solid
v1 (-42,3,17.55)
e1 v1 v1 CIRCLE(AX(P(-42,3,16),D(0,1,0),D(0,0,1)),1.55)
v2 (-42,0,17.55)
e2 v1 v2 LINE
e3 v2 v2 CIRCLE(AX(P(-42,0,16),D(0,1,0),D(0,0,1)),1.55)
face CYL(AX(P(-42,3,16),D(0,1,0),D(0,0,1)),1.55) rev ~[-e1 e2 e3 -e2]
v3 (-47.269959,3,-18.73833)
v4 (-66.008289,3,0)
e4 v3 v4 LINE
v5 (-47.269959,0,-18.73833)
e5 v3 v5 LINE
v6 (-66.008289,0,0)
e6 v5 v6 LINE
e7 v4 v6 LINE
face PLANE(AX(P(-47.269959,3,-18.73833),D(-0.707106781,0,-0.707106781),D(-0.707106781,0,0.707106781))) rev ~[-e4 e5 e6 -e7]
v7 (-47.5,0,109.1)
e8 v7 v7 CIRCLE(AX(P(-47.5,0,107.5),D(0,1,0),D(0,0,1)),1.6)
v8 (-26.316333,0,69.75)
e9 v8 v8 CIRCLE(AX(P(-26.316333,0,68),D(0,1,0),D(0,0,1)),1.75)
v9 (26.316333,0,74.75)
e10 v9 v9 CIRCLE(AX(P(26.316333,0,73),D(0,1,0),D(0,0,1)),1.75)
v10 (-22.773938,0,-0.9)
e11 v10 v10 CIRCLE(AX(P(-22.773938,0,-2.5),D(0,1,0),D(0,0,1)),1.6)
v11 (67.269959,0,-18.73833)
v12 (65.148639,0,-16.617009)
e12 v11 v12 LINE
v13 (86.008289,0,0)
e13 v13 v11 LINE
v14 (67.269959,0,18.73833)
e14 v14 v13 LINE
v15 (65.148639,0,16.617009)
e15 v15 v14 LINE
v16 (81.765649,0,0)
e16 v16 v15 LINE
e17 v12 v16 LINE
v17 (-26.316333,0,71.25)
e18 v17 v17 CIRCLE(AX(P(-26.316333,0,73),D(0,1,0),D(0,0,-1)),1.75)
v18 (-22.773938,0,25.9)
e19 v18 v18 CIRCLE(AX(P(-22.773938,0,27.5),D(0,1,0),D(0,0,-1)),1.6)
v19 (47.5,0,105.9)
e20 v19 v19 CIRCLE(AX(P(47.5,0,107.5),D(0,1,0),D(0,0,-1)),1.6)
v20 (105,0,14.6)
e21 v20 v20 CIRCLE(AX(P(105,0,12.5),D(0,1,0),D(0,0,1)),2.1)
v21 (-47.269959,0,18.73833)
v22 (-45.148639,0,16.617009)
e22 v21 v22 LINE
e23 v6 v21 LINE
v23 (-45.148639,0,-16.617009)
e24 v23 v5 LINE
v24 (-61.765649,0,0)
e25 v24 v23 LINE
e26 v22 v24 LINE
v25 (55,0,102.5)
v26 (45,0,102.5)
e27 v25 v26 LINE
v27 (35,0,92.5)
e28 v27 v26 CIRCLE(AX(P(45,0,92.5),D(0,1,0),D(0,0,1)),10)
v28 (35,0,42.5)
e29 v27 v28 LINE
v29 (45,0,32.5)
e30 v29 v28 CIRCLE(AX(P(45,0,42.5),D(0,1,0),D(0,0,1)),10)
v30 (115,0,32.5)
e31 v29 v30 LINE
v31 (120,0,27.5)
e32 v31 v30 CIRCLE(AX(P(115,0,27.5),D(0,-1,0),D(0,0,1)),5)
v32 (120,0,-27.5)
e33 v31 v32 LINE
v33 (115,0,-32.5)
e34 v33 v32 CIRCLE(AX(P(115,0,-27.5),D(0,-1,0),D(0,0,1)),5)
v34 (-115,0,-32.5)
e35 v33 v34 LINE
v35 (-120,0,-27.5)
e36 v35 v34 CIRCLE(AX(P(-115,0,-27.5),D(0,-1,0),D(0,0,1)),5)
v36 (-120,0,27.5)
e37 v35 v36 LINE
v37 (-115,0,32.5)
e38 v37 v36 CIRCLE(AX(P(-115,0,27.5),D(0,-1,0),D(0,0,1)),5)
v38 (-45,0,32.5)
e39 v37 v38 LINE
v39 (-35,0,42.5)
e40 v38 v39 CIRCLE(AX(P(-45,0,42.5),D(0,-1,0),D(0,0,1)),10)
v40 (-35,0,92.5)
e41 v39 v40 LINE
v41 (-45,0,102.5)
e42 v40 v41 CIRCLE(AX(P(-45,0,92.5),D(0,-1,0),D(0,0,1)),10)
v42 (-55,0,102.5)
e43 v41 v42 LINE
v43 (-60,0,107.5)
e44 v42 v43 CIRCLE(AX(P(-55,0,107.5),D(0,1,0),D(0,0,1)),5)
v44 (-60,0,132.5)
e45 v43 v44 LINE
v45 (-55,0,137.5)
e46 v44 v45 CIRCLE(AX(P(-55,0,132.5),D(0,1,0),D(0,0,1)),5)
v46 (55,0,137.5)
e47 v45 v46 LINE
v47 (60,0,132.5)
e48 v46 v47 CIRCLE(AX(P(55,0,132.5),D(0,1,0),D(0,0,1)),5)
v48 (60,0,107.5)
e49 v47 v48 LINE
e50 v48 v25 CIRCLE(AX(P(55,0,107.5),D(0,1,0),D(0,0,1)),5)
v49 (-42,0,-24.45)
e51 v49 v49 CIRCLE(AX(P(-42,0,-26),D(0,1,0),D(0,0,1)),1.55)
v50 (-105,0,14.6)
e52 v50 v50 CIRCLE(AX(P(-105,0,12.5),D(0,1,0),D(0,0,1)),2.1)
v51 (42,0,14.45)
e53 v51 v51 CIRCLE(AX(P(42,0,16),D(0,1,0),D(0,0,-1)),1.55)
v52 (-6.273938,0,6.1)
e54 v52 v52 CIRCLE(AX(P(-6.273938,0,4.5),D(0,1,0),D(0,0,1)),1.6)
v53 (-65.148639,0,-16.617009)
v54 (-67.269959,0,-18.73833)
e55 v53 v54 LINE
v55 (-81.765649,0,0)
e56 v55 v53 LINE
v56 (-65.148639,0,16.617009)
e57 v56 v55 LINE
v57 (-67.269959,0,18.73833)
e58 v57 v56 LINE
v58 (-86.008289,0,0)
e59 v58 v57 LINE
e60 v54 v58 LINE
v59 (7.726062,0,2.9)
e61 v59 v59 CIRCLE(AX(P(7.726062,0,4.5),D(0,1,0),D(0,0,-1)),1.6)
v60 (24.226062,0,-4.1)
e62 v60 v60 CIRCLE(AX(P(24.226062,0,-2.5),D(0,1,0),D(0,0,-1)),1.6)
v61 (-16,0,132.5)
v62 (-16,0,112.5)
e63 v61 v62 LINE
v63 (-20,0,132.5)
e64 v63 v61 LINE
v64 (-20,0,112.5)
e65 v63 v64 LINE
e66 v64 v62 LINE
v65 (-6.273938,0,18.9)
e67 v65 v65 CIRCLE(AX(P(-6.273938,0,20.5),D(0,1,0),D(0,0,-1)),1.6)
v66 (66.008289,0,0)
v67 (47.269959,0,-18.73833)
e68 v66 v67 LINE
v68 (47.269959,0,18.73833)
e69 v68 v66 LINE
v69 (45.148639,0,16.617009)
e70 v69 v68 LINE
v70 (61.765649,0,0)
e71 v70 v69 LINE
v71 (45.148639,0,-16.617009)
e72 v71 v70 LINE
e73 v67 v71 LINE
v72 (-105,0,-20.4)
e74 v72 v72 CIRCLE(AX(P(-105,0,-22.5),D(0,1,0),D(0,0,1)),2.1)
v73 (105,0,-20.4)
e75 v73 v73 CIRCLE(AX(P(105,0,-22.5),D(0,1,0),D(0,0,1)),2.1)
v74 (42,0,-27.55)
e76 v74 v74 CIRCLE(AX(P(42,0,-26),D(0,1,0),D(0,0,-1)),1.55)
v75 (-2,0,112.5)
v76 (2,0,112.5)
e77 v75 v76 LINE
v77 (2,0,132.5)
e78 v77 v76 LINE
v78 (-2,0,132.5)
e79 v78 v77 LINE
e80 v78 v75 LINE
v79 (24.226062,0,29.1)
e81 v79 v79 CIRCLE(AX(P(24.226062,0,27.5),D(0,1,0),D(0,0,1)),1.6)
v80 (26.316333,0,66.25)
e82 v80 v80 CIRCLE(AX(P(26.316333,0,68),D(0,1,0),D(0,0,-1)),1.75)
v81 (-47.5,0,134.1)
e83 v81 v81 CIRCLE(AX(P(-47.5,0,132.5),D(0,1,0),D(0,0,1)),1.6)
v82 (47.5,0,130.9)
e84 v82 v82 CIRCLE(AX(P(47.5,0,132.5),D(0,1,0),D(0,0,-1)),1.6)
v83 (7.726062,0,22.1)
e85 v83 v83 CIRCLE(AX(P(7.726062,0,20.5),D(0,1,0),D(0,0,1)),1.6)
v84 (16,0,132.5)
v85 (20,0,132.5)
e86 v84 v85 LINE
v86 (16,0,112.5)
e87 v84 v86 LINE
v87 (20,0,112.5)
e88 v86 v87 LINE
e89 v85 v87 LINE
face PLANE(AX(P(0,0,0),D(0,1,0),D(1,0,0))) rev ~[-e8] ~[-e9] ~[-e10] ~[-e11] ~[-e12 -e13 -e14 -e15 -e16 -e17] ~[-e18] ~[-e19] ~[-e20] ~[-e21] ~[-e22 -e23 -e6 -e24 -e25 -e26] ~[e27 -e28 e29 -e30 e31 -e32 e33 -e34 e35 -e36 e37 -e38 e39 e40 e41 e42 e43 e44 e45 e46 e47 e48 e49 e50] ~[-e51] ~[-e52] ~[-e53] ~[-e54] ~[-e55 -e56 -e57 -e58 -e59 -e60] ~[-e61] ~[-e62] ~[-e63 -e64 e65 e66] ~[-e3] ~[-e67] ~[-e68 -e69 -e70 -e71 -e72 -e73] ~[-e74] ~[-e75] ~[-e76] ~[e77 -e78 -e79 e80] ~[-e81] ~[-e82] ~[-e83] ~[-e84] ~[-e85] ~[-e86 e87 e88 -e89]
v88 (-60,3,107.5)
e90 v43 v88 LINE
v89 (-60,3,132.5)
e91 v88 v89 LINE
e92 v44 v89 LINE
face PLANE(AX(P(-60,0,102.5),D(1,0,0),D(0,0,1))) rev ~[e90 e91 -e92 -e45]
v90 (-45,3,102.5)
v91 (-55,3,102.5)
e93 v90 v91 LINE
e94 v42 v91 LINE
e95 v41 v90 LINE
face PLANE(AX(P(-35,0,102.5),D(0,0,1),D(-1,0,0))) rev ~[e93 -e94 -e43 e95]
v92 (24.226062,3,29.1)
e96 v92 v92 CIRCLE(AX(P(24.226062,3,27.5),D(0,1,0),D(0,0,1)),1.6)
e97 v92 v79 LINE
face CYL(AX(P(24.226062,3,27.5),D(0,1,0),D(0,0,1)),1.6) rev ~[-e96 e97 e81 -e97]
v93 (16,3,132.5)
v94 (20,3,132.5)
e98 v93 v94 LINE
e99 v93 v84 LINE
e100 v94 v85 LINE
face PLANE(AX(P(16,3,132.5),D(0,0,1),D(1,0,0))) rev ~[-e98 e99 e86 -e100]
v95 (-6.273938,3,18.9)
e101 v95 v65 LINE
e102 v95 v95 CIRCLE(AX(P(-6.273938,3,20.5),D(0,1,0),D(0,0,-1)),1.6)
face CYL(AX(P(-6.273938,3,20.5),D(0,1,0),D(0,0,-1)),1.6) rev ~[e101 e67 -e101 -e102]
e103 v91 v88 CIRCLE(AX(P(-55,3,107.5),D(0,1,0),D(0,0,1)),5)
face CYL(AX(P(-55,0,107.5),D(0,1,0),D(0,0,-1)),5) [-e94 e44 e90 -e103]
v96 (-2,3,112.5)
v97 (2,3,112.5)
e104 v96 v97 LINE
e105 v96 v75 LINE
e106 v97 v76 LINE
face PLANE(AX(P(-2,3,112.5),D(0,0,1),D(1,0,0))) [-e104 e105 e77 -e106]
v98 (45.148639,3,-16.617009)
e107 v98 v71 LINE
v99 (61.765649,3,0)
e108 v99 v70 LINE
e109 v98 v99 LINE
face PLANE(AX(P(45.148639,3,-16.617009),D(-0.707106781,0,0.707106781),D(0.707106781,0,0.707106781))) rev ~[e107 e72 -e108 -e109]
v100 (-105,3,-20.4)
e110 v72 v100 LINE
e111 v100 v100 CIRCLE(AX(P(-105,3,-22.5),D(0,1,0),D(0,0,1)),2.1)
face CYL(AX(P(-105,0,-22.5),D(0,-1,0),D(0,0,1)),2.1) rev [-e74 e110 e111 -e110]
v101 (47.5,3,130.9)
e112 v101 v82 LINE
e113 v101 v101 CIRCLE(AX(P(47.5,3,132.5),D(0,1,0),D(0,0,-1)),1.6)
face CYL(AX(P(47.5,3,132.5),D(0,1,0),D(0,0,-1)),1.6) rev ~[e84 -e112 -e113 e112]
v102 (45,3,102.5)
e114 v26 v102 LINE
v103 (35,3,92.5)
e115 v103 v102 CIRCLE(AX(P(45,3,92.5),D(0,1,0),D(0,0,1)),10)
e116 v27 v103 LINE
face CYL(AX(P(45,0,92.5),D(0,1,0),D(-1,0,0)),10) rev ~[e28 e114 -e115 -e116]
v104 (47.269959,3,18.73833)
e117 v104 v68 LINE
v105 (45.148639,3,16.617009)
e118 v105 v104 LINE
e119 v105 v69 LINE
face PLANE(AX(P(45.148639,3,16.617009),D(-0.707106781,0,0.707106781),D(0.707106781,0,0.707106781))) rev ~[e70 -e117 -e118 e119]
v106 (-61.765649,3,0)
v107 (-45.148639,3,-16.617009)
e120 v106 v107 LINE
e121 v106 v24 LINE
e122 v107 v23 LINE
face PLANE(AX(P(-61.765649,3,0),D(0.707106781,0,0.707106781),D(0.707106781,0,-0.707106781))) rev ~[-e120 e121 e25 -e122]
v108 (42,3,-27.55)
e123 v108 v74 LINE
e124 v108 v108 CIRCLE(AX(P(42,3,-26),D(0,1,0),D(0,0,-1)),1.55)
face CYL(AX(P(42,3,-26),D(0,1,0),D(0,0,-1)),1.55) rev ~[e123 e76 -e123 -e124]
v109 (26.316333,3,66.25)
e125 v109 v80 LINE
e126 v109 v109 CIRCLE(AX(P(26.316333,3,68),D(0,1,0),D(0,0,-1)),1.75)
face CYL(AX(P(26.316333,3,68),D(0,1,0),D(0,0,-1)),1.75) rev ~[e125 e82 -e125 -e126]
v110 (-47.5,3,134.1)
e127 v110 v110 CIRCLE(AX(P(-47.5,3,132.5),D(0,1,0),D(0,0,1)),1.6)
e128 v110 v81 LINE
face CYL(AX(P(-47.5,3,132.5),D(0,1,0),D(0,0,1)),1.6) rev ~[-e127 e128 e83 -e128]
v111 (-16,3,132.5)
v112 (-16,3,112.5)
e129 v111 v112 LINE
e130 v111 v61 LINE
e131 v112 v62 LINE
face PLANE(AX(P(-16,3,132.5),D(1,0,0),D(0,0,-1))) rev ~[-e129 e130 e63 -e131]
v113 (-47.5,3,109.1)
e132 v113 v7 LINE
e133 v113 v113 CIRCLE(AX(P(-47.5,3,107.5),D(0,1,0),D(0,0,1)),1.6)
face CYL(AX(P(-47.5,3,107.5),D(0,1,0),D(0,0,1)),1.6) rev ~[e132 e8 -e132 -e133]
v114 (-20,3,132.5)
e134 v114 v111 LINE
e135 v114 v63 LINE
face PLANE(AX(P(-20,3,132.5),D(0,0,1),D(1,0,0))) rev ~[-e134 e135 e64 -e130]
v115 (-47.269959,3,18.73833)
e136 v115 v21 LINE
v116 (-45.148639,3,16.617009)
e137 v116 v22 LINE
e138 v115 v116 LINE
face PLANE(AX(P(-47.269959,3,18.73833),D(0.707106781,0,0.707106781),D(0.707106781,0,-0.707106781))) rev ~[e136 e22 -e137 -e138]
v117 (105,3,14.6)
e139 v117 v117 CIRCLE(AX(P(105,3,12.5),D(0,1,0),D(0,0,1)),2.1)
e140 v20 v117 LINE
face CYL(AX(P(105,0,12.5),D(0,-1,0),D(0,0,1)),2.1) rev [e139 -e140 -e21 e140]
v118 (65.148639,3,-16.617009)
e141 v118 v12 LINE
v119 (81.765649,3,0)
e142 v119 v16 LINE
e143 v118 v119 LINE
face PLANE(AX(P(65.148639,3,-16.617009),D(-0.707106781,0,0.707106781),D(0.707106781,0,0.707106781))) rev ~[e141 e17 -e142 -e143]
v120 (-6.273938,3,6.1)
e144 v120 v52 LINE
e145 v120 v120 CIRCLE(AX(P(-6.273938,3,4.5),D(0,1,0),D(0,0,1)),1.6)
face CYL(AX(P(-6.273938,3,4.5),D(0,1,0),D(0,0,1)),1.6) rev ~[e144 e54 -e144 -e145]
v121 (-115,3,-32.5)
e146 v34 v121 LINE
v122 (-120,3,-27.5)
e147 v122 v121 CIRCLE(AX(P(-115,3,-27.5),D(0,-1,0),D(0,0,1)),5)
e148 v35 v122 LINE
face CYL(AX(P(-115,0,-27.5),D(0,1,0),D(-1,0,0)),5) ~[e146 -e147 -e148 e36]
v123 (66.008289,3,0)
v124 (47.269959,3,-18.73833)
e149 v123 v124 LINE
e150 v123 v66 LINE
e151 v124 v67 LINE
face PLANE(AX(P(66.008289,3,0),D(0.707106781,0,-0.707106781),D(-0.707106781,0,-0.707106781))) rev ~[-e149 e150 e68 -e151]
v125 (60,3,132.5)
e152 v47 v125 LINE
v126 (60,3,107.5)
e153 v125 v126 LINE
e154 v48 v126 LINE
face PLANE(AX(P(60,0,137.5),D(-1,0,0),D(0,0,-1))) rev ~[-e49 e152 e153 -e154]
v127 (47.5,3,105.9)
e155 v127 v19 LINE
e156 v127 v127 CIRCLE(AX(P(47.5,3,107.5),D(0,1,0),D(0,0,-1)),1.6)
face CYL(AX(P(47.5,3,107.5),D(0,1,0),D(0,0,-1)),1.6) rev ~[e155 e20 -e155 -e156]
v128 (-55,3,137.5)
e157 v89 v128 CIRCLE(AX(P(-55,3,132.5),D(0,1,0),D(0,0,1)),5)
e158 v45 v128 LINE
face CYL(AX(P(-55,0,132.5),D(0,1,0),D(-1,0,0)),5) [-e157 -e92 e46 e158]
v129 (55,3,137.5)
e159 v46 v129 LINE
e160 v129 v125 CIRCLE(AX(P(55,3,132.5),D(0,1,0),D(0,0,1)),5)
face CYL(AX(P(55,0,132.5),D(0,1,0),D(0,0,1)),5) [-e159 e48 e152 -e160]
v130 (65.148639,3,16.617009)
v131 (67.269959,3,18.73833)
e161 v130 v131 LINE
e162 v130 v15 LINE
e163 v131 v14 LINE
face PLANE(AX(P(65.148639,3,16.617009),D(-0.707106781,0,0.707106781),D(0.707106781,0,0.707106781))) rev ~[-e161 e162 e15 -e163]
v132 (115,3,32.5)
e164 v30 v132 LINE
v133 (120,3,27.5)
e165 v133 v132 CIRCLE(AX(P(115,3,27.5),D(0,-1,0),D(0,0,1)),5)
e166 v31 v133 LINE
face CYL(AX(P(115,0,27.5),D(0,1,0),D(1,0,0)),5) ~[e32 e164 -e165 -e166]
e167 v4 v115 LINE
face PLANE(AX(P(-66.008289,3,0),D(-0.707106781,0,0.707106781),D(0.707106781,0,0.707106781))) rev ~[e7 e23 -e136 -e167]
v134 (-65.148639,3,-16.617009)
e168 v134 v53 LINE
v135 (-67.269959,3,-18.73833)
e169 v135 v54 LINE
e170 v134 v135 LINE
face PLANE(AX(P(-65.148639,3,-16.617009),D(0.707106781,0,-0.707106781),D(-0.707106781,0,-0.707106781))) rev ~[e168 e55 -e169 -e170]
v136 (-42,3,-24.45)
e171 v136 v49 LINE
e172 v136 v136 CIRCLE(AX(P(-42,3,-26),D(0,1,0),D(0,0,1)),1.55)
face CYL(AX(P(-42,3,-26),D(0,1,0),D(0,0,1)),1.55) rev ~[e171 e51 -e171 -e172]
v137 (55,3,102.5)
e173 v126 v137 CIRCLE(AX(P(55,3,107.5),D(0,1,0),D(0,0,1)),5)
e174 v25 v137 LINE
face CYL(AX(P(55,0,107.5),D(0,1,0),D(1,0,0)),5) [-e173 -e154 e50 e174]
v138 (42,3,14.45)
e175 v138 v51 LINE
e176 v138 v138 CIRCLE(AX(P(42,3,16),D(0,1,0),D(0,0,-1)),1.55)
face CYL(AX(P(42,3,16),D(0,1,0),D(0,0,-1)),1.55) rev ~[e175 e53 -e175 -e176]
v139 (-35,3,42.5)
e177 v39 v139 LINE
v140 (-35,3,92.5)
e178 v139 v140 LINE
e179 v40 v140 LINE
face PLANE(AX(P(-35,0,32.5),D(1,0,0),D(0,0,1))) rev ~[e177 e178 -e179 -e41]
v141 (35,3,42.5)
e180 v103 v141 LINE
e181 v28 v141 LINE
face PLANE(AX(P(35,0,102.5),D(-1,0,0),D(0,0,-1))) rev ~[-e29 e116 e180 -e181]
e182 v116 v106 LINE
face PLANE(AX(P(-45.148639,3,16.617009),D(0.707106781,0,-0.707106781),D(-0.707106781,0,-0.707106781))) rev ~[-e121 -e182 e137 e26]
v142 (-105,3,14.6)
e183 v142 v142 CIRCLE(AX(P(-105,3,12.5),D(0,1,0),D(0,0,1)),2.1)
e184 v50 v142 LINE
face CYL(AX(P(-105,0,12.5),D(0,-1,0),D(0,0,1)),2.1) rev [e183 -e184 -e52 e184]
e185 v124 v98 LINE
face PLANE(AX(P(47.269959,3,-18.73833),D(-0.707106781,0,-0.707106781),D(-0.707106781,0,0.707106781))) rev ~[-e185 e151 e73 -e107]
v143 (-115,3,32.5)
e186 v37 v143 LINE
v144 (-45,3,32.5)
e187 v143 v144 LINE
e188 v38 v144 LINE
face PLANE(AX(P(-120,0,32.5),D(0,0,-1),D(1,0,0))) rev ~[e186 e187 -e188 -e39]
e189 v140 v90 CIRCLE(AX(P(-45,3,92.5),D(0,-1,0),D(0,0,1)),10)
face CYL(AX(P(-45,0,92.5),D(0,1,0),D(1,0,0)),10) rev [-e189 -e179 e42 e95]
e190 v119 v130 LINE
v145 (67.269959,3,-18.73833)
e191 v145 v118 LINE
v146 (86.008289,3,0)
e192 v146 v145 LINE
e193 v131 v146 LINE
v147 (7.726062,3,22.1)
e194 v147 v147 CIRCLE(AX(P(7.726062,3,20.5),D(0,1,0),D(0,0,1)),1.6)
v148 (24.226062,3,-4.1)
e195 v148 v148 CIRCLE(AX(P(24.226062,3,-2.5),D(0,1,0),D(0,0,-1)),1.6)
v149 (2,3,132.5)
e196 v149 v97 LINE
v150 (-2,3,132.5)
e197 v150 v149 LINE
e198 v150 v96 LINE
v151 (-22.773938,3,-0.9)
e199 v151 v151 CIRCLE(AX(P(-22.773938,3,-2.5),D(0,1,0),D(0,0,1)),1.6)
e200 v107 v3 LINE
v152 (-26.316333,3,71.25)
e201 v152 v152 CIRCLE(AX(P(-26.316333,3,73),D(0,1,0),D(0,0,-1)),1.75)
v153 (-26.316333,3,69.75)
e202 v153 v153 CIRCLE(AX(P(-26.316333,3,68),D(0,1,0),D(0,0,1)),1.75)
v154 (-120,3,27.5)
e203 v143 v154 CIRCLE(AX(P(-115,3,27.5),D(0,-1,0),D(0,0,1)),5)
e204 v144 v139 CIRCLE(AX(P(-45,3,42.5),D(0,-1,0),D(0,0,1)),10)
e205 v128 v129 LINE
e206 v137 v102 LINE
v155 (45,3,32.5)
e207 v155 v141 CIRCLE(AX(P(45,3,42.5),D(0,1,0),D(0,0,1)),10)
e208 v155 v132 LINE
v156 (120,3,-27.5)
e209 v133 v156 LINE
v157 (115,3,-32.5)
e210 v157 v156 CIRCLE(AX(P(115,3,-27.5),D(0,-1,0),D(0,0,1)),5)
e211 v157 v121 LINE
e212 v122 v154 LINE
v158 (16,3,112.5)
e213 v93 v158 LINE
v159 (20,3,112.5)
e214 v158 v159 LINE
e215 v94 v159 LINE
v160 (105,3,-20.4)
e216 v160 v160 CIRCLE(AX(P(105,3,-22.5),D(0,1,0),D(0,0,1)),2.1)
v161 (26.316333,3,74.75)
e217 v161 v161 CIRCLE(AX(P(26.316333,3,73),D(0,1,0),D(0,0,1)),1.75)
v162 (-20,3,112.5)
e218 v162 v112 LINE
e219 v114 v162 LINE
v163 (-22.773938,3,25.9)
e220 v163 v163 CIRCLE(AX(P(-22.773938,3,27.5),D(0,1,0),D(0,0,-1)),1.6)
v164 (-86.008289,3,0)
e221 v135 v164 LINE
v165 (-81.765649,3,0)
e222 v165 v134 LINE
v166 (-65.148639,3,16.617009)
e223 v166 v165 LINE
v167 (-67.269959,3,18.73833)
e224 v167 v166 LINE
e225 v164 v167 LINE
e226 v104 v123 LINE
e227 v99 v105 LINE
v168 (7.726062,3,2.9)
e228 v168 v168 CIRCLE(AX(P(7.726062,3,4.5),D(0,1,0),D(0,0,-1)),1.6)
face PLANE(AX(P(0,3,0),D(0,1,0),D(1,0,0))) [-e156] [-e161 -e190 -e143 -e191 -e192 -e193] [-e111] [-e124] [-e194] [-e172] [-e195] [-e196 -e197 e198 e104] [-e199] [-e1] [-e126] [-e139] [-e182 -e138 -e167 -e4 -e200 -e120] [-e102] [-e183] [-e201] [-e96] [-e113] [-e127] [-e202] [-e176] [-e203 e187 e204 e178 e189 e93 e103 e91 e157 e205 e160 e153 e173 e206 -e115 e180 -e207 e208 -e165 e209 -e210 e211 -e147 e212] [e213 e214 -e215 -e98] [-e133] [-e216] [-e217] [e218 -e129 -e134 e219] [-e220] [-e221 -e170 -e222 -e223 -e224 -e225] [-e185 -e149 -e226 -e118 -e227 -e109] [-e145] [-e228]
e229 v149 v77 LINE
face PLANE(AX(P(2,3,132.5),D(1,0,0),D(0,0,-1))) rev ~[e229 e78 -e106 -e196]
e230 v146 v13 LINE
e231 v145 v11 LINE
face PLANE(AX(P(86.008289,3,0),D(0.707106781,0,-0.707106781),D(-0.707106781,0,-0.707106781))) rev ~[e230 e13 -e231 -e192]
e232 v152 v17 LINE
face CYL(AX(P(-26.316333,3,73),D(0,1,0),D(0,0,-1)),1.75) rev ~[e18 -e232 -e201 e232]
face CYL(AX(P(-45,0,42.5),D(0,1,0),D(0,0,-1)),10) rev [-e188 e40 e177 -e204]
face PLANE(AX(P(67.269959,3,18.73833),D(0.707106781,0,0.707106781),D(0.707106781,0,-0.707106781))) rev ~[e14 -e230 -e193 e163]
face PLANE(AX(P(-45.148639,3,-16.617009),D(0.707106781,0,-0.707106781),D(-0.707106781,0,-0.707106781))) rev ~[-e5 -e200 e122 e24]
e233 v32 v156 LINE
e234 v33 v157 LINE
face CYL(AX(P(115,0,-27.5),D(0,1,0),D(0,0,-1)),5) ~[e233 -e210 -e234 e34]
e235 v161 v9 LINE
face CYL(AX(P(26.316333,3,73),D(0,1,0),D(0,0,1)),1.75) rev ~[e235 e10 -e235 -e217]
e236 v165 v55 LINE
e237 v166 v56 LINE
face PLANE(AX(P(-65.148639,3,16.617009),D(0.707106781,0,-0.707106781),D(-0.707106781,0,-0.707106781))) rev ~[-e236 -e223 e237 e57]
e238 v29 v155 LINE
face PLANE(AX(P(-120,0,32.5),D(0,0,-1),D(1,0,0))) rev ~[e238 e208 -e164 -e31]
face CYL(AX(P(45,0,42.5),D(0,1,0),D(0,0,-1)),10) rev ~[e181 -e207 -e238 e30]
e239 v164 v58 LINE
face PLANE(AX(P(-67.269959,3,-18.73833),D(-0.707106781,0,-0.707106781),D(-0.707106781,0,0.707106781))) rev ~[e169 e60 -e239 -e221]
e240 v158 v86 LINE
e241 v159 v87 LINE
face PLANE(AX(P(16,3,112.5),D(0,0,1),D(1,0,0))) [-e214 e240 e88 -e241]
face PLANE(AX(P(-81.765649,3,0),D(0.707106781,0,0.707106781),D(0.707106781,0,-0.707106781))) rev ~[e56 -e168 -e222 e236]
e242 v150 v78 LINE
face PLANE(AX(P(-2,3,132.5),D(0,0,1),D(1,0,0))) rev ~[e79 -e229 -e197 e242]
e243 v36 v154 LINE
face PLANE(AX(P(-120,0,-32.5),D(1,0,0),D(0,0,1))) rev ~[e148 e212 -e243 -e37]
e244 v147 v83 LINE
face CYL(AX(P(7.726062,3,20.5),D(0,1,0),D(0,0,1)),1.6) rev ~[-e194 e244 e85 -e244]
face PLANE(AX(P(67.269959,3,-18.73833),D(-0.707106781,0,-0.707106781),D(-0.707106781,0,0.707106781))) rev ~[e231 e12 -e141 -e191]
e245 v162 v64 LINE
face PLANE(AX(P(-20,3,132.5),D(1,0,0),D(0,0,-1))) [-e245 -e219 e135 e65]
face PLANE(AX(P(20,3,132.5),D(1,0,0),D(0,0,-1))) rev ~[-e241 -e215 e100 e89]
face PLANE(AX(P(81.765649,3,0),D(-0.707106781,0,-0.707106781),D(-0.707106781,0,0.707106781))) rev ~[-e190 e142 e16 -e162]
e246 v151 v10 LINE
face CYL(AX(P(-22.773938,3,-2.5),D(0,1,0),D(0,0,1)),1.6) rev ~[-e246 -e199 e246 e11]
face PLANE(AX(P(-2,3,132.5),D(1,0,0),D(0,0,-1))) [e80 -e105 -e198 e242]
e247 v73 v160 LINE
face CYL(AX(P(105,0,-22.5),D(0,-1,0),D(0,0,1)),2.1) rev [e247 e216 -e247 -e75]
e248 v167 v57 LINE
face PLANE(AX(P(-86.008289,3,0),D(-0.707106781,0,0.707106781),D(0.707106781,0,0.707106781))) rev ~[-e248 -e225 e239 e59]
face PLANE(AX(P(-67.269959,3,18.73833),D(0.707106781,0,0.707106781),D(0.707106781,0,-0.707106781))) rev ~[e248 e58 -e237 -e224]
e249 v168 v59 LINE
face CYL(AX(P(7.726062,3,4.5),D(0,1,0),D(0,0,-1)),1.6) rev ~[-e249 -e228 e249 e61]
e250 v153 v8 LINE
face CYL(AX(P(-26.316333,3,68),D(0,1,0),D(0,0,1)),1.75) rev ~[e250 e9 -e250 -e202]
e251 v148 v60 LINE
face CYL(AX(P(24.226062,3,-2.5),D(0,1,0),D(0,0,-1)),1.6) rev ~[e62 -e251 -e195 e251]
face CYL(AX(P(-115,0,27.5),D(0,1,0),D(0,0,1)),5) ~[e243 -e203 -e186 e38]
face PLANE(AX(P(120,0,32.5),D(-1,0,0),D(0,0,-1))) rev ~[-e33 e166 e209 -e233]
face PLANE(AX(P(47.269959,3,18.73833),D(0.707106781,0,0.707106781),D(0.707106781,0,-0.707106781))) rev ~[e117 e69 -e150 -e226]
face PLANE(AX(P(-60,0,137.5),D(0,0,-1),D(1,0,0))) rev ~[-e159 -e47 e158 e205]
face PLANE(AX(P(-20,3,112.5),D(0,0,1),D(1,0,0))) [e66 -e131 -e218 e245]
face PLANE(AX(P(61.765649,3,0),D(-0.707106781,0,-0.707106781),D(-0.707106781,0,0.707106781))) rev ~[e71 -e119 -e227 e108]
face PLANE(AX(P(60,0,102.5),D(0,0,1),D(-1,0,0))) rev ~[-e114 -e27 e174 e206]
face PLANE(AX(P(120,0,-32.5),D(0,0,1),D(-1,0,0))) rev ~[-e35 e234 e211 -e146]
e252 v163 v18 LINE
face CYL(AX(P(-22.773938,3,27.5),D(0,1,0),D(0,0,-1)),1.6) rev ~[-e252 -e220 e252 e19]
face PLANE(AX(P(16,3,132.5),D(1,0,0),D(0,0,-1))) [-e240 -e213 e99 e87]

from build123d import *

# Parameters (mm, degrees)
SKETCH_1_W            = 240
SKETCH_1_H            = 65
SKETCH_1_R            = 2.1
EXTRUDE_1_DEPTH       = 3
SKETCH_3_R            = 1.6
CUT_EXTRUDE_1_DEPTH   = 125.359358313
EXTRUDE_2_DEPTH       = 3
FILLET_1_R            = 10
SKETCH_5_R            = 1.6
SKETCH_5_W            = 4
SKETCH_5_H            = 20
CUT_EXTRUDE_2_DEPTH   = 183.524655869
FILLET_2_R            = 10
CUT_EXTRUDE_1_2_DEPTH = 183.524655869
SKETCH_8_R            = 1.75
CUT_EXTRUDE_5_DEPTH   = 183.524655869
SKETCH_9_R            = 1.55
CUT_EXTRUDE_6_DEPTH   = 183.524655869
FILLET_3_R            = 5


with BuildPart() as part:
    # 草图1 → 凸台-拉伸1 (new body)
    # profile 1 of 2: a face of its own
    with BuildSketch(Plane(origin=(0, 0, 0), x_dir=(1, 0, 0), z_dir=(0, 1, 0))):
        Rectangle(SKETCH_1_W, SKETCH_1_H)
        with Locations(Location((105, -12.5, 0), (0, 0, 270))):
            Circle(SKETCH_1_R, mode=Mode.SUBTRACT)
        with Locations(Location((-105, -12.5, 0), (0, 0, 270))):
            Circle(SKETCH_1_R, mode=Mode.SUBTRACT)
        with Locations(Location((-105, 22.5, 0), (0, 0, 270))):
            Circle(SKETCH_1_R, mode=Mode.SUBTRACT)
        with Locations(Location((105, 22.5, 0), (0, 0, 270))):
            Circle(SKETCH_1_R, mode=Mode.SUBTRACT)
    # profile 2 of 2: a face of its own
    with BuildSketch(Plane(origin=(0, 0, 0), x_dir=(1, 0, 0), z_dir=(0, 1, 0))):
        Polygon((-120, 32.5), (-120, -32.5), (-60, -32.5), (20, -32.5), (120, -32.5), (120, 32.5), align=None)
        with Locations(Location((-105, -12.5, 0), (0, 0, 270))):
            Circle(SKETCH_1_R, mode=Mode.SUBTRACT)
        with Locations(Location((105, -12.5, 0), (0, 0, 270))):
            Circle(SKETCH_1_R, mode=Mode.SUBTRACT)
        with Locations(Location((-105, 22.5, 0), (0, 0, 270))):
            Circle(SKETCH_1_R, mode=Mode.SUBTRACT)
        with Locations(Location((105, 22.5, 0), (0, 0, 270))):
            Circle(SKETCH_1_R, mode=Mode.SUBTRACT)
    extrude(amount=EXTRUDE_1_DEPTH)

    # 草图3 → Cut-Extrude 1 (cut, through all)
    with BuildSketch(Plane(origin=(0, 3, 0), x_dir=(1, 0, 0), z_dir=(0, 1, 0))):
        with Locations(Location((-22.773937698, 2.5, 0), (0, 0, 270))):
            Circle(SKETCH_3_R)
        with Locations(Location((24.226062302, 2.5, 0), (0, 0, 90))):
            Circle(SKETCH_3_R)
        with Locations(Location((24.226062302, -27.5, 0), (0, 0, 270))):
            Circle(SKETCH_3_R)
        with Locations(Location((-22.773937698, -27.5, 0), (0, 0, 90))):
            Circle(SKETCH_3_R)
        with Locations(Location((-6.273937698, -4.5, 0), (0, 0, 270))):
            Circle(SKETCH_3_R)
        with Locations(Location((7.726062302, -4.5, 0), (0, 0, 90))):
            Circle(SKETCH_3_R)
        with Locations(Location((7.726062302, -20.5, 0), (0, 0, 270))):
            Circle(SKETCH_3_R)
        with Locations(Location((-6.273937698, -20.5, 0), (0, 0, 90))):
            Circle(SKETCH_3_R)
    extrude(amount=-CUT_EXTRUDE_1_DEPTH, mode=Mode.SUBTRACT)

    # 草图4 → 凸台-拉伸2 (add)
    with BuildSketch(Plane(origin=(0, 0, 0), x_dir=(1, 0, 0), z_dir=(0, 1, 0))):
        Polygon((0, -32.5), (-35, -32.5), (-35, -102.5), (-60, -102.5), (-60, -137.5), (60, -137.5), (60, -102.5), (35, -102.5), (35, -32.5), align=None)
    extrude(amount=EXTRUDE_2_DEPTH)

    # 圆角1
    fillet_1_edges = [part.edges().sort_by_distance(p)[0] for p in [
        (35, 1.5, 32.5),
        (-35, 1.5, 32.5),
    ]]
    fillet(fillet_1_edges, radius=FILLET_1_R)

    # 草图5 → 切除-拉伸2 (cut, through all)
    with BuildSketch(Plane(origin=(0, 3, 0), x_dir=(1, 0, 0), z_dir=(0, 1, 0))):
        with Locations(Location((-47.5, -132.5, 0), (0, 0, 270))):
            Circle(SKETCH_5_R)
        with Locations(Location((47.5, -132.5, 0), (0, 0, 90))):
            Circle(SKETCH_5_R)
        with Locations(Location((-47.5, -107.5, 0), (0, 0, 270))):
            Circle(SKETCH_5_R)
        with Locations(Location((47.5, -107.5, 0), (0, 0, 90))):
            Circle(SKETCH_5_R)
        with Locations((0, -122.5)):
            Rectangle(SKETCH_5_W, SKETCH_5_H)
        with Locations((-18, -122.5)):
            Rectangle(SKETCH_5_W, SKETCH_5_H)
        with Locations((18, -122.5)):
            Rectangle(SKETCH_5_W, SKETCH_5_H)
    extrude(amount=-CUT_EXTRUDE_2_DEPTH, mode=Mode.SUBTRACT)

    # 圆角2
    fillet_2_edges = [part.edges().sort_by_distance(p)[0] for p in [
        (35, 1.5, 102.5),
        (-35, 1.5, 102.5),
    ]]
    fillet(fillet_2_edges, radius=FILLET_2_R)

    # 草图7 → Cut-Extrude 1 2 (cut, through all)
    with BuildSketch(Plane(origin=(0, 3, 0), x_dir=(1, 0, 0), z_dir=(0, 1, 0))):
        Polygon((-45.148639148, -16.617009358), (-61.765648506, 0), (-45.148639148, 16.617009358), (-47.269959491, 18.738329701), (-66.008289193, 0), (-47.269959491, -18.738329701), align=None)
        Polygon((-65.148639148, -16.617009358), (-81.765648506, 0), (-65.148639148, 16.617009358), (-67.269959491, 18.738329701), (-86.008289193, 0), (-67.269959491, -18.738329701), align=None)
        Polygon((65.148639148, 16.617009358), (81.765648506, 0), (65.148639148, -16.617009358), (67.269959491, -18.738329701), (86.008289193, 0), (67.269959491, 18.738329701), align=None)
        Polygon((45.148639148, 16.617009358), (61.765648506, 0), (45.148639148, -16.617009358), (47.269959491, -18.738329701), (66.008289193, 0), (47.269959491, 18.738329701), align=None)
    extrude(amount=-CUT_EXTRUDE_1_2_DEPTH, mode=Mode.SUBTRACT)

    # 草图8 → 切除-拉伸5 (cut, through all)
    with BuildSketch(Plane(origin=(0, 3, 0), x_dir=(1, 0, 0), z_dir=(0, 1, 0))):
        with Locations(Location((-26.316332853, -68, 0), (0, 0, 270))):
            Circle(SKETCH_8_R)
        with Locations(Location((-26.316332853, -73, 0), (0, 0, 90))):
            Circle(SKETCH_8_R)
        with Locations(Location((26.316332853, -73, 0), (0, 0, 270))):
            Circle(SKETCH_8_R)
        with Locations(Location((26.316332853, -68, 0), (0, 0, 90))):
            Circle(SKETCH_8_R)
    extrude(amount=-CUT_EXTRUDE_5_DEPTH, mode=Mode.SUBTRACT)

    # 草图9 → 切除-拉伸6 (cut, through all)
    with BuildSketch(Plane(origin=(0, 3, 0), x_dir=(1, 0, 0), z_dir=(0, 1, 0))):
        with Locations(Location((-42, 26, 0), (0, 0, 270))):
            Circle(SKETCH_9_R)
        with Locations(Location((-42, -16, 0), (0, 0, 270))):
            Circle(SKETCH_9_R)
        with Locations(Location((42, -16, 0), (0, 0, 90))):
            Circle(SKETCH_9_R)
        with Locations(Location((42, 26, 0), (0, 0, 90))):
            Circle(SKETCH_9_R)
    extrude(amount=-CUT_EXTRUDE_6_DEPTH, mode=Mode.SUBTRACT)

    # 圆角3
    fillet_3_edges = [part.edges().sort_by_distance(p)[0] for p in [
        (-120, 1.5, 32.5),
        (-120, 1.5, -32.5),
        (120, 1.5, -32.5),
        (120, 1.5, 32.5),
        (-60, 1.5, 137.5),
        (60, 1.5, 137.5),
        (60, 1.5, 102.5),
        (-60, 1.5, 102.5),
    ]]
    fillet(fillet_3_edges, radius=FILLET_3_R)


solid = part.part
